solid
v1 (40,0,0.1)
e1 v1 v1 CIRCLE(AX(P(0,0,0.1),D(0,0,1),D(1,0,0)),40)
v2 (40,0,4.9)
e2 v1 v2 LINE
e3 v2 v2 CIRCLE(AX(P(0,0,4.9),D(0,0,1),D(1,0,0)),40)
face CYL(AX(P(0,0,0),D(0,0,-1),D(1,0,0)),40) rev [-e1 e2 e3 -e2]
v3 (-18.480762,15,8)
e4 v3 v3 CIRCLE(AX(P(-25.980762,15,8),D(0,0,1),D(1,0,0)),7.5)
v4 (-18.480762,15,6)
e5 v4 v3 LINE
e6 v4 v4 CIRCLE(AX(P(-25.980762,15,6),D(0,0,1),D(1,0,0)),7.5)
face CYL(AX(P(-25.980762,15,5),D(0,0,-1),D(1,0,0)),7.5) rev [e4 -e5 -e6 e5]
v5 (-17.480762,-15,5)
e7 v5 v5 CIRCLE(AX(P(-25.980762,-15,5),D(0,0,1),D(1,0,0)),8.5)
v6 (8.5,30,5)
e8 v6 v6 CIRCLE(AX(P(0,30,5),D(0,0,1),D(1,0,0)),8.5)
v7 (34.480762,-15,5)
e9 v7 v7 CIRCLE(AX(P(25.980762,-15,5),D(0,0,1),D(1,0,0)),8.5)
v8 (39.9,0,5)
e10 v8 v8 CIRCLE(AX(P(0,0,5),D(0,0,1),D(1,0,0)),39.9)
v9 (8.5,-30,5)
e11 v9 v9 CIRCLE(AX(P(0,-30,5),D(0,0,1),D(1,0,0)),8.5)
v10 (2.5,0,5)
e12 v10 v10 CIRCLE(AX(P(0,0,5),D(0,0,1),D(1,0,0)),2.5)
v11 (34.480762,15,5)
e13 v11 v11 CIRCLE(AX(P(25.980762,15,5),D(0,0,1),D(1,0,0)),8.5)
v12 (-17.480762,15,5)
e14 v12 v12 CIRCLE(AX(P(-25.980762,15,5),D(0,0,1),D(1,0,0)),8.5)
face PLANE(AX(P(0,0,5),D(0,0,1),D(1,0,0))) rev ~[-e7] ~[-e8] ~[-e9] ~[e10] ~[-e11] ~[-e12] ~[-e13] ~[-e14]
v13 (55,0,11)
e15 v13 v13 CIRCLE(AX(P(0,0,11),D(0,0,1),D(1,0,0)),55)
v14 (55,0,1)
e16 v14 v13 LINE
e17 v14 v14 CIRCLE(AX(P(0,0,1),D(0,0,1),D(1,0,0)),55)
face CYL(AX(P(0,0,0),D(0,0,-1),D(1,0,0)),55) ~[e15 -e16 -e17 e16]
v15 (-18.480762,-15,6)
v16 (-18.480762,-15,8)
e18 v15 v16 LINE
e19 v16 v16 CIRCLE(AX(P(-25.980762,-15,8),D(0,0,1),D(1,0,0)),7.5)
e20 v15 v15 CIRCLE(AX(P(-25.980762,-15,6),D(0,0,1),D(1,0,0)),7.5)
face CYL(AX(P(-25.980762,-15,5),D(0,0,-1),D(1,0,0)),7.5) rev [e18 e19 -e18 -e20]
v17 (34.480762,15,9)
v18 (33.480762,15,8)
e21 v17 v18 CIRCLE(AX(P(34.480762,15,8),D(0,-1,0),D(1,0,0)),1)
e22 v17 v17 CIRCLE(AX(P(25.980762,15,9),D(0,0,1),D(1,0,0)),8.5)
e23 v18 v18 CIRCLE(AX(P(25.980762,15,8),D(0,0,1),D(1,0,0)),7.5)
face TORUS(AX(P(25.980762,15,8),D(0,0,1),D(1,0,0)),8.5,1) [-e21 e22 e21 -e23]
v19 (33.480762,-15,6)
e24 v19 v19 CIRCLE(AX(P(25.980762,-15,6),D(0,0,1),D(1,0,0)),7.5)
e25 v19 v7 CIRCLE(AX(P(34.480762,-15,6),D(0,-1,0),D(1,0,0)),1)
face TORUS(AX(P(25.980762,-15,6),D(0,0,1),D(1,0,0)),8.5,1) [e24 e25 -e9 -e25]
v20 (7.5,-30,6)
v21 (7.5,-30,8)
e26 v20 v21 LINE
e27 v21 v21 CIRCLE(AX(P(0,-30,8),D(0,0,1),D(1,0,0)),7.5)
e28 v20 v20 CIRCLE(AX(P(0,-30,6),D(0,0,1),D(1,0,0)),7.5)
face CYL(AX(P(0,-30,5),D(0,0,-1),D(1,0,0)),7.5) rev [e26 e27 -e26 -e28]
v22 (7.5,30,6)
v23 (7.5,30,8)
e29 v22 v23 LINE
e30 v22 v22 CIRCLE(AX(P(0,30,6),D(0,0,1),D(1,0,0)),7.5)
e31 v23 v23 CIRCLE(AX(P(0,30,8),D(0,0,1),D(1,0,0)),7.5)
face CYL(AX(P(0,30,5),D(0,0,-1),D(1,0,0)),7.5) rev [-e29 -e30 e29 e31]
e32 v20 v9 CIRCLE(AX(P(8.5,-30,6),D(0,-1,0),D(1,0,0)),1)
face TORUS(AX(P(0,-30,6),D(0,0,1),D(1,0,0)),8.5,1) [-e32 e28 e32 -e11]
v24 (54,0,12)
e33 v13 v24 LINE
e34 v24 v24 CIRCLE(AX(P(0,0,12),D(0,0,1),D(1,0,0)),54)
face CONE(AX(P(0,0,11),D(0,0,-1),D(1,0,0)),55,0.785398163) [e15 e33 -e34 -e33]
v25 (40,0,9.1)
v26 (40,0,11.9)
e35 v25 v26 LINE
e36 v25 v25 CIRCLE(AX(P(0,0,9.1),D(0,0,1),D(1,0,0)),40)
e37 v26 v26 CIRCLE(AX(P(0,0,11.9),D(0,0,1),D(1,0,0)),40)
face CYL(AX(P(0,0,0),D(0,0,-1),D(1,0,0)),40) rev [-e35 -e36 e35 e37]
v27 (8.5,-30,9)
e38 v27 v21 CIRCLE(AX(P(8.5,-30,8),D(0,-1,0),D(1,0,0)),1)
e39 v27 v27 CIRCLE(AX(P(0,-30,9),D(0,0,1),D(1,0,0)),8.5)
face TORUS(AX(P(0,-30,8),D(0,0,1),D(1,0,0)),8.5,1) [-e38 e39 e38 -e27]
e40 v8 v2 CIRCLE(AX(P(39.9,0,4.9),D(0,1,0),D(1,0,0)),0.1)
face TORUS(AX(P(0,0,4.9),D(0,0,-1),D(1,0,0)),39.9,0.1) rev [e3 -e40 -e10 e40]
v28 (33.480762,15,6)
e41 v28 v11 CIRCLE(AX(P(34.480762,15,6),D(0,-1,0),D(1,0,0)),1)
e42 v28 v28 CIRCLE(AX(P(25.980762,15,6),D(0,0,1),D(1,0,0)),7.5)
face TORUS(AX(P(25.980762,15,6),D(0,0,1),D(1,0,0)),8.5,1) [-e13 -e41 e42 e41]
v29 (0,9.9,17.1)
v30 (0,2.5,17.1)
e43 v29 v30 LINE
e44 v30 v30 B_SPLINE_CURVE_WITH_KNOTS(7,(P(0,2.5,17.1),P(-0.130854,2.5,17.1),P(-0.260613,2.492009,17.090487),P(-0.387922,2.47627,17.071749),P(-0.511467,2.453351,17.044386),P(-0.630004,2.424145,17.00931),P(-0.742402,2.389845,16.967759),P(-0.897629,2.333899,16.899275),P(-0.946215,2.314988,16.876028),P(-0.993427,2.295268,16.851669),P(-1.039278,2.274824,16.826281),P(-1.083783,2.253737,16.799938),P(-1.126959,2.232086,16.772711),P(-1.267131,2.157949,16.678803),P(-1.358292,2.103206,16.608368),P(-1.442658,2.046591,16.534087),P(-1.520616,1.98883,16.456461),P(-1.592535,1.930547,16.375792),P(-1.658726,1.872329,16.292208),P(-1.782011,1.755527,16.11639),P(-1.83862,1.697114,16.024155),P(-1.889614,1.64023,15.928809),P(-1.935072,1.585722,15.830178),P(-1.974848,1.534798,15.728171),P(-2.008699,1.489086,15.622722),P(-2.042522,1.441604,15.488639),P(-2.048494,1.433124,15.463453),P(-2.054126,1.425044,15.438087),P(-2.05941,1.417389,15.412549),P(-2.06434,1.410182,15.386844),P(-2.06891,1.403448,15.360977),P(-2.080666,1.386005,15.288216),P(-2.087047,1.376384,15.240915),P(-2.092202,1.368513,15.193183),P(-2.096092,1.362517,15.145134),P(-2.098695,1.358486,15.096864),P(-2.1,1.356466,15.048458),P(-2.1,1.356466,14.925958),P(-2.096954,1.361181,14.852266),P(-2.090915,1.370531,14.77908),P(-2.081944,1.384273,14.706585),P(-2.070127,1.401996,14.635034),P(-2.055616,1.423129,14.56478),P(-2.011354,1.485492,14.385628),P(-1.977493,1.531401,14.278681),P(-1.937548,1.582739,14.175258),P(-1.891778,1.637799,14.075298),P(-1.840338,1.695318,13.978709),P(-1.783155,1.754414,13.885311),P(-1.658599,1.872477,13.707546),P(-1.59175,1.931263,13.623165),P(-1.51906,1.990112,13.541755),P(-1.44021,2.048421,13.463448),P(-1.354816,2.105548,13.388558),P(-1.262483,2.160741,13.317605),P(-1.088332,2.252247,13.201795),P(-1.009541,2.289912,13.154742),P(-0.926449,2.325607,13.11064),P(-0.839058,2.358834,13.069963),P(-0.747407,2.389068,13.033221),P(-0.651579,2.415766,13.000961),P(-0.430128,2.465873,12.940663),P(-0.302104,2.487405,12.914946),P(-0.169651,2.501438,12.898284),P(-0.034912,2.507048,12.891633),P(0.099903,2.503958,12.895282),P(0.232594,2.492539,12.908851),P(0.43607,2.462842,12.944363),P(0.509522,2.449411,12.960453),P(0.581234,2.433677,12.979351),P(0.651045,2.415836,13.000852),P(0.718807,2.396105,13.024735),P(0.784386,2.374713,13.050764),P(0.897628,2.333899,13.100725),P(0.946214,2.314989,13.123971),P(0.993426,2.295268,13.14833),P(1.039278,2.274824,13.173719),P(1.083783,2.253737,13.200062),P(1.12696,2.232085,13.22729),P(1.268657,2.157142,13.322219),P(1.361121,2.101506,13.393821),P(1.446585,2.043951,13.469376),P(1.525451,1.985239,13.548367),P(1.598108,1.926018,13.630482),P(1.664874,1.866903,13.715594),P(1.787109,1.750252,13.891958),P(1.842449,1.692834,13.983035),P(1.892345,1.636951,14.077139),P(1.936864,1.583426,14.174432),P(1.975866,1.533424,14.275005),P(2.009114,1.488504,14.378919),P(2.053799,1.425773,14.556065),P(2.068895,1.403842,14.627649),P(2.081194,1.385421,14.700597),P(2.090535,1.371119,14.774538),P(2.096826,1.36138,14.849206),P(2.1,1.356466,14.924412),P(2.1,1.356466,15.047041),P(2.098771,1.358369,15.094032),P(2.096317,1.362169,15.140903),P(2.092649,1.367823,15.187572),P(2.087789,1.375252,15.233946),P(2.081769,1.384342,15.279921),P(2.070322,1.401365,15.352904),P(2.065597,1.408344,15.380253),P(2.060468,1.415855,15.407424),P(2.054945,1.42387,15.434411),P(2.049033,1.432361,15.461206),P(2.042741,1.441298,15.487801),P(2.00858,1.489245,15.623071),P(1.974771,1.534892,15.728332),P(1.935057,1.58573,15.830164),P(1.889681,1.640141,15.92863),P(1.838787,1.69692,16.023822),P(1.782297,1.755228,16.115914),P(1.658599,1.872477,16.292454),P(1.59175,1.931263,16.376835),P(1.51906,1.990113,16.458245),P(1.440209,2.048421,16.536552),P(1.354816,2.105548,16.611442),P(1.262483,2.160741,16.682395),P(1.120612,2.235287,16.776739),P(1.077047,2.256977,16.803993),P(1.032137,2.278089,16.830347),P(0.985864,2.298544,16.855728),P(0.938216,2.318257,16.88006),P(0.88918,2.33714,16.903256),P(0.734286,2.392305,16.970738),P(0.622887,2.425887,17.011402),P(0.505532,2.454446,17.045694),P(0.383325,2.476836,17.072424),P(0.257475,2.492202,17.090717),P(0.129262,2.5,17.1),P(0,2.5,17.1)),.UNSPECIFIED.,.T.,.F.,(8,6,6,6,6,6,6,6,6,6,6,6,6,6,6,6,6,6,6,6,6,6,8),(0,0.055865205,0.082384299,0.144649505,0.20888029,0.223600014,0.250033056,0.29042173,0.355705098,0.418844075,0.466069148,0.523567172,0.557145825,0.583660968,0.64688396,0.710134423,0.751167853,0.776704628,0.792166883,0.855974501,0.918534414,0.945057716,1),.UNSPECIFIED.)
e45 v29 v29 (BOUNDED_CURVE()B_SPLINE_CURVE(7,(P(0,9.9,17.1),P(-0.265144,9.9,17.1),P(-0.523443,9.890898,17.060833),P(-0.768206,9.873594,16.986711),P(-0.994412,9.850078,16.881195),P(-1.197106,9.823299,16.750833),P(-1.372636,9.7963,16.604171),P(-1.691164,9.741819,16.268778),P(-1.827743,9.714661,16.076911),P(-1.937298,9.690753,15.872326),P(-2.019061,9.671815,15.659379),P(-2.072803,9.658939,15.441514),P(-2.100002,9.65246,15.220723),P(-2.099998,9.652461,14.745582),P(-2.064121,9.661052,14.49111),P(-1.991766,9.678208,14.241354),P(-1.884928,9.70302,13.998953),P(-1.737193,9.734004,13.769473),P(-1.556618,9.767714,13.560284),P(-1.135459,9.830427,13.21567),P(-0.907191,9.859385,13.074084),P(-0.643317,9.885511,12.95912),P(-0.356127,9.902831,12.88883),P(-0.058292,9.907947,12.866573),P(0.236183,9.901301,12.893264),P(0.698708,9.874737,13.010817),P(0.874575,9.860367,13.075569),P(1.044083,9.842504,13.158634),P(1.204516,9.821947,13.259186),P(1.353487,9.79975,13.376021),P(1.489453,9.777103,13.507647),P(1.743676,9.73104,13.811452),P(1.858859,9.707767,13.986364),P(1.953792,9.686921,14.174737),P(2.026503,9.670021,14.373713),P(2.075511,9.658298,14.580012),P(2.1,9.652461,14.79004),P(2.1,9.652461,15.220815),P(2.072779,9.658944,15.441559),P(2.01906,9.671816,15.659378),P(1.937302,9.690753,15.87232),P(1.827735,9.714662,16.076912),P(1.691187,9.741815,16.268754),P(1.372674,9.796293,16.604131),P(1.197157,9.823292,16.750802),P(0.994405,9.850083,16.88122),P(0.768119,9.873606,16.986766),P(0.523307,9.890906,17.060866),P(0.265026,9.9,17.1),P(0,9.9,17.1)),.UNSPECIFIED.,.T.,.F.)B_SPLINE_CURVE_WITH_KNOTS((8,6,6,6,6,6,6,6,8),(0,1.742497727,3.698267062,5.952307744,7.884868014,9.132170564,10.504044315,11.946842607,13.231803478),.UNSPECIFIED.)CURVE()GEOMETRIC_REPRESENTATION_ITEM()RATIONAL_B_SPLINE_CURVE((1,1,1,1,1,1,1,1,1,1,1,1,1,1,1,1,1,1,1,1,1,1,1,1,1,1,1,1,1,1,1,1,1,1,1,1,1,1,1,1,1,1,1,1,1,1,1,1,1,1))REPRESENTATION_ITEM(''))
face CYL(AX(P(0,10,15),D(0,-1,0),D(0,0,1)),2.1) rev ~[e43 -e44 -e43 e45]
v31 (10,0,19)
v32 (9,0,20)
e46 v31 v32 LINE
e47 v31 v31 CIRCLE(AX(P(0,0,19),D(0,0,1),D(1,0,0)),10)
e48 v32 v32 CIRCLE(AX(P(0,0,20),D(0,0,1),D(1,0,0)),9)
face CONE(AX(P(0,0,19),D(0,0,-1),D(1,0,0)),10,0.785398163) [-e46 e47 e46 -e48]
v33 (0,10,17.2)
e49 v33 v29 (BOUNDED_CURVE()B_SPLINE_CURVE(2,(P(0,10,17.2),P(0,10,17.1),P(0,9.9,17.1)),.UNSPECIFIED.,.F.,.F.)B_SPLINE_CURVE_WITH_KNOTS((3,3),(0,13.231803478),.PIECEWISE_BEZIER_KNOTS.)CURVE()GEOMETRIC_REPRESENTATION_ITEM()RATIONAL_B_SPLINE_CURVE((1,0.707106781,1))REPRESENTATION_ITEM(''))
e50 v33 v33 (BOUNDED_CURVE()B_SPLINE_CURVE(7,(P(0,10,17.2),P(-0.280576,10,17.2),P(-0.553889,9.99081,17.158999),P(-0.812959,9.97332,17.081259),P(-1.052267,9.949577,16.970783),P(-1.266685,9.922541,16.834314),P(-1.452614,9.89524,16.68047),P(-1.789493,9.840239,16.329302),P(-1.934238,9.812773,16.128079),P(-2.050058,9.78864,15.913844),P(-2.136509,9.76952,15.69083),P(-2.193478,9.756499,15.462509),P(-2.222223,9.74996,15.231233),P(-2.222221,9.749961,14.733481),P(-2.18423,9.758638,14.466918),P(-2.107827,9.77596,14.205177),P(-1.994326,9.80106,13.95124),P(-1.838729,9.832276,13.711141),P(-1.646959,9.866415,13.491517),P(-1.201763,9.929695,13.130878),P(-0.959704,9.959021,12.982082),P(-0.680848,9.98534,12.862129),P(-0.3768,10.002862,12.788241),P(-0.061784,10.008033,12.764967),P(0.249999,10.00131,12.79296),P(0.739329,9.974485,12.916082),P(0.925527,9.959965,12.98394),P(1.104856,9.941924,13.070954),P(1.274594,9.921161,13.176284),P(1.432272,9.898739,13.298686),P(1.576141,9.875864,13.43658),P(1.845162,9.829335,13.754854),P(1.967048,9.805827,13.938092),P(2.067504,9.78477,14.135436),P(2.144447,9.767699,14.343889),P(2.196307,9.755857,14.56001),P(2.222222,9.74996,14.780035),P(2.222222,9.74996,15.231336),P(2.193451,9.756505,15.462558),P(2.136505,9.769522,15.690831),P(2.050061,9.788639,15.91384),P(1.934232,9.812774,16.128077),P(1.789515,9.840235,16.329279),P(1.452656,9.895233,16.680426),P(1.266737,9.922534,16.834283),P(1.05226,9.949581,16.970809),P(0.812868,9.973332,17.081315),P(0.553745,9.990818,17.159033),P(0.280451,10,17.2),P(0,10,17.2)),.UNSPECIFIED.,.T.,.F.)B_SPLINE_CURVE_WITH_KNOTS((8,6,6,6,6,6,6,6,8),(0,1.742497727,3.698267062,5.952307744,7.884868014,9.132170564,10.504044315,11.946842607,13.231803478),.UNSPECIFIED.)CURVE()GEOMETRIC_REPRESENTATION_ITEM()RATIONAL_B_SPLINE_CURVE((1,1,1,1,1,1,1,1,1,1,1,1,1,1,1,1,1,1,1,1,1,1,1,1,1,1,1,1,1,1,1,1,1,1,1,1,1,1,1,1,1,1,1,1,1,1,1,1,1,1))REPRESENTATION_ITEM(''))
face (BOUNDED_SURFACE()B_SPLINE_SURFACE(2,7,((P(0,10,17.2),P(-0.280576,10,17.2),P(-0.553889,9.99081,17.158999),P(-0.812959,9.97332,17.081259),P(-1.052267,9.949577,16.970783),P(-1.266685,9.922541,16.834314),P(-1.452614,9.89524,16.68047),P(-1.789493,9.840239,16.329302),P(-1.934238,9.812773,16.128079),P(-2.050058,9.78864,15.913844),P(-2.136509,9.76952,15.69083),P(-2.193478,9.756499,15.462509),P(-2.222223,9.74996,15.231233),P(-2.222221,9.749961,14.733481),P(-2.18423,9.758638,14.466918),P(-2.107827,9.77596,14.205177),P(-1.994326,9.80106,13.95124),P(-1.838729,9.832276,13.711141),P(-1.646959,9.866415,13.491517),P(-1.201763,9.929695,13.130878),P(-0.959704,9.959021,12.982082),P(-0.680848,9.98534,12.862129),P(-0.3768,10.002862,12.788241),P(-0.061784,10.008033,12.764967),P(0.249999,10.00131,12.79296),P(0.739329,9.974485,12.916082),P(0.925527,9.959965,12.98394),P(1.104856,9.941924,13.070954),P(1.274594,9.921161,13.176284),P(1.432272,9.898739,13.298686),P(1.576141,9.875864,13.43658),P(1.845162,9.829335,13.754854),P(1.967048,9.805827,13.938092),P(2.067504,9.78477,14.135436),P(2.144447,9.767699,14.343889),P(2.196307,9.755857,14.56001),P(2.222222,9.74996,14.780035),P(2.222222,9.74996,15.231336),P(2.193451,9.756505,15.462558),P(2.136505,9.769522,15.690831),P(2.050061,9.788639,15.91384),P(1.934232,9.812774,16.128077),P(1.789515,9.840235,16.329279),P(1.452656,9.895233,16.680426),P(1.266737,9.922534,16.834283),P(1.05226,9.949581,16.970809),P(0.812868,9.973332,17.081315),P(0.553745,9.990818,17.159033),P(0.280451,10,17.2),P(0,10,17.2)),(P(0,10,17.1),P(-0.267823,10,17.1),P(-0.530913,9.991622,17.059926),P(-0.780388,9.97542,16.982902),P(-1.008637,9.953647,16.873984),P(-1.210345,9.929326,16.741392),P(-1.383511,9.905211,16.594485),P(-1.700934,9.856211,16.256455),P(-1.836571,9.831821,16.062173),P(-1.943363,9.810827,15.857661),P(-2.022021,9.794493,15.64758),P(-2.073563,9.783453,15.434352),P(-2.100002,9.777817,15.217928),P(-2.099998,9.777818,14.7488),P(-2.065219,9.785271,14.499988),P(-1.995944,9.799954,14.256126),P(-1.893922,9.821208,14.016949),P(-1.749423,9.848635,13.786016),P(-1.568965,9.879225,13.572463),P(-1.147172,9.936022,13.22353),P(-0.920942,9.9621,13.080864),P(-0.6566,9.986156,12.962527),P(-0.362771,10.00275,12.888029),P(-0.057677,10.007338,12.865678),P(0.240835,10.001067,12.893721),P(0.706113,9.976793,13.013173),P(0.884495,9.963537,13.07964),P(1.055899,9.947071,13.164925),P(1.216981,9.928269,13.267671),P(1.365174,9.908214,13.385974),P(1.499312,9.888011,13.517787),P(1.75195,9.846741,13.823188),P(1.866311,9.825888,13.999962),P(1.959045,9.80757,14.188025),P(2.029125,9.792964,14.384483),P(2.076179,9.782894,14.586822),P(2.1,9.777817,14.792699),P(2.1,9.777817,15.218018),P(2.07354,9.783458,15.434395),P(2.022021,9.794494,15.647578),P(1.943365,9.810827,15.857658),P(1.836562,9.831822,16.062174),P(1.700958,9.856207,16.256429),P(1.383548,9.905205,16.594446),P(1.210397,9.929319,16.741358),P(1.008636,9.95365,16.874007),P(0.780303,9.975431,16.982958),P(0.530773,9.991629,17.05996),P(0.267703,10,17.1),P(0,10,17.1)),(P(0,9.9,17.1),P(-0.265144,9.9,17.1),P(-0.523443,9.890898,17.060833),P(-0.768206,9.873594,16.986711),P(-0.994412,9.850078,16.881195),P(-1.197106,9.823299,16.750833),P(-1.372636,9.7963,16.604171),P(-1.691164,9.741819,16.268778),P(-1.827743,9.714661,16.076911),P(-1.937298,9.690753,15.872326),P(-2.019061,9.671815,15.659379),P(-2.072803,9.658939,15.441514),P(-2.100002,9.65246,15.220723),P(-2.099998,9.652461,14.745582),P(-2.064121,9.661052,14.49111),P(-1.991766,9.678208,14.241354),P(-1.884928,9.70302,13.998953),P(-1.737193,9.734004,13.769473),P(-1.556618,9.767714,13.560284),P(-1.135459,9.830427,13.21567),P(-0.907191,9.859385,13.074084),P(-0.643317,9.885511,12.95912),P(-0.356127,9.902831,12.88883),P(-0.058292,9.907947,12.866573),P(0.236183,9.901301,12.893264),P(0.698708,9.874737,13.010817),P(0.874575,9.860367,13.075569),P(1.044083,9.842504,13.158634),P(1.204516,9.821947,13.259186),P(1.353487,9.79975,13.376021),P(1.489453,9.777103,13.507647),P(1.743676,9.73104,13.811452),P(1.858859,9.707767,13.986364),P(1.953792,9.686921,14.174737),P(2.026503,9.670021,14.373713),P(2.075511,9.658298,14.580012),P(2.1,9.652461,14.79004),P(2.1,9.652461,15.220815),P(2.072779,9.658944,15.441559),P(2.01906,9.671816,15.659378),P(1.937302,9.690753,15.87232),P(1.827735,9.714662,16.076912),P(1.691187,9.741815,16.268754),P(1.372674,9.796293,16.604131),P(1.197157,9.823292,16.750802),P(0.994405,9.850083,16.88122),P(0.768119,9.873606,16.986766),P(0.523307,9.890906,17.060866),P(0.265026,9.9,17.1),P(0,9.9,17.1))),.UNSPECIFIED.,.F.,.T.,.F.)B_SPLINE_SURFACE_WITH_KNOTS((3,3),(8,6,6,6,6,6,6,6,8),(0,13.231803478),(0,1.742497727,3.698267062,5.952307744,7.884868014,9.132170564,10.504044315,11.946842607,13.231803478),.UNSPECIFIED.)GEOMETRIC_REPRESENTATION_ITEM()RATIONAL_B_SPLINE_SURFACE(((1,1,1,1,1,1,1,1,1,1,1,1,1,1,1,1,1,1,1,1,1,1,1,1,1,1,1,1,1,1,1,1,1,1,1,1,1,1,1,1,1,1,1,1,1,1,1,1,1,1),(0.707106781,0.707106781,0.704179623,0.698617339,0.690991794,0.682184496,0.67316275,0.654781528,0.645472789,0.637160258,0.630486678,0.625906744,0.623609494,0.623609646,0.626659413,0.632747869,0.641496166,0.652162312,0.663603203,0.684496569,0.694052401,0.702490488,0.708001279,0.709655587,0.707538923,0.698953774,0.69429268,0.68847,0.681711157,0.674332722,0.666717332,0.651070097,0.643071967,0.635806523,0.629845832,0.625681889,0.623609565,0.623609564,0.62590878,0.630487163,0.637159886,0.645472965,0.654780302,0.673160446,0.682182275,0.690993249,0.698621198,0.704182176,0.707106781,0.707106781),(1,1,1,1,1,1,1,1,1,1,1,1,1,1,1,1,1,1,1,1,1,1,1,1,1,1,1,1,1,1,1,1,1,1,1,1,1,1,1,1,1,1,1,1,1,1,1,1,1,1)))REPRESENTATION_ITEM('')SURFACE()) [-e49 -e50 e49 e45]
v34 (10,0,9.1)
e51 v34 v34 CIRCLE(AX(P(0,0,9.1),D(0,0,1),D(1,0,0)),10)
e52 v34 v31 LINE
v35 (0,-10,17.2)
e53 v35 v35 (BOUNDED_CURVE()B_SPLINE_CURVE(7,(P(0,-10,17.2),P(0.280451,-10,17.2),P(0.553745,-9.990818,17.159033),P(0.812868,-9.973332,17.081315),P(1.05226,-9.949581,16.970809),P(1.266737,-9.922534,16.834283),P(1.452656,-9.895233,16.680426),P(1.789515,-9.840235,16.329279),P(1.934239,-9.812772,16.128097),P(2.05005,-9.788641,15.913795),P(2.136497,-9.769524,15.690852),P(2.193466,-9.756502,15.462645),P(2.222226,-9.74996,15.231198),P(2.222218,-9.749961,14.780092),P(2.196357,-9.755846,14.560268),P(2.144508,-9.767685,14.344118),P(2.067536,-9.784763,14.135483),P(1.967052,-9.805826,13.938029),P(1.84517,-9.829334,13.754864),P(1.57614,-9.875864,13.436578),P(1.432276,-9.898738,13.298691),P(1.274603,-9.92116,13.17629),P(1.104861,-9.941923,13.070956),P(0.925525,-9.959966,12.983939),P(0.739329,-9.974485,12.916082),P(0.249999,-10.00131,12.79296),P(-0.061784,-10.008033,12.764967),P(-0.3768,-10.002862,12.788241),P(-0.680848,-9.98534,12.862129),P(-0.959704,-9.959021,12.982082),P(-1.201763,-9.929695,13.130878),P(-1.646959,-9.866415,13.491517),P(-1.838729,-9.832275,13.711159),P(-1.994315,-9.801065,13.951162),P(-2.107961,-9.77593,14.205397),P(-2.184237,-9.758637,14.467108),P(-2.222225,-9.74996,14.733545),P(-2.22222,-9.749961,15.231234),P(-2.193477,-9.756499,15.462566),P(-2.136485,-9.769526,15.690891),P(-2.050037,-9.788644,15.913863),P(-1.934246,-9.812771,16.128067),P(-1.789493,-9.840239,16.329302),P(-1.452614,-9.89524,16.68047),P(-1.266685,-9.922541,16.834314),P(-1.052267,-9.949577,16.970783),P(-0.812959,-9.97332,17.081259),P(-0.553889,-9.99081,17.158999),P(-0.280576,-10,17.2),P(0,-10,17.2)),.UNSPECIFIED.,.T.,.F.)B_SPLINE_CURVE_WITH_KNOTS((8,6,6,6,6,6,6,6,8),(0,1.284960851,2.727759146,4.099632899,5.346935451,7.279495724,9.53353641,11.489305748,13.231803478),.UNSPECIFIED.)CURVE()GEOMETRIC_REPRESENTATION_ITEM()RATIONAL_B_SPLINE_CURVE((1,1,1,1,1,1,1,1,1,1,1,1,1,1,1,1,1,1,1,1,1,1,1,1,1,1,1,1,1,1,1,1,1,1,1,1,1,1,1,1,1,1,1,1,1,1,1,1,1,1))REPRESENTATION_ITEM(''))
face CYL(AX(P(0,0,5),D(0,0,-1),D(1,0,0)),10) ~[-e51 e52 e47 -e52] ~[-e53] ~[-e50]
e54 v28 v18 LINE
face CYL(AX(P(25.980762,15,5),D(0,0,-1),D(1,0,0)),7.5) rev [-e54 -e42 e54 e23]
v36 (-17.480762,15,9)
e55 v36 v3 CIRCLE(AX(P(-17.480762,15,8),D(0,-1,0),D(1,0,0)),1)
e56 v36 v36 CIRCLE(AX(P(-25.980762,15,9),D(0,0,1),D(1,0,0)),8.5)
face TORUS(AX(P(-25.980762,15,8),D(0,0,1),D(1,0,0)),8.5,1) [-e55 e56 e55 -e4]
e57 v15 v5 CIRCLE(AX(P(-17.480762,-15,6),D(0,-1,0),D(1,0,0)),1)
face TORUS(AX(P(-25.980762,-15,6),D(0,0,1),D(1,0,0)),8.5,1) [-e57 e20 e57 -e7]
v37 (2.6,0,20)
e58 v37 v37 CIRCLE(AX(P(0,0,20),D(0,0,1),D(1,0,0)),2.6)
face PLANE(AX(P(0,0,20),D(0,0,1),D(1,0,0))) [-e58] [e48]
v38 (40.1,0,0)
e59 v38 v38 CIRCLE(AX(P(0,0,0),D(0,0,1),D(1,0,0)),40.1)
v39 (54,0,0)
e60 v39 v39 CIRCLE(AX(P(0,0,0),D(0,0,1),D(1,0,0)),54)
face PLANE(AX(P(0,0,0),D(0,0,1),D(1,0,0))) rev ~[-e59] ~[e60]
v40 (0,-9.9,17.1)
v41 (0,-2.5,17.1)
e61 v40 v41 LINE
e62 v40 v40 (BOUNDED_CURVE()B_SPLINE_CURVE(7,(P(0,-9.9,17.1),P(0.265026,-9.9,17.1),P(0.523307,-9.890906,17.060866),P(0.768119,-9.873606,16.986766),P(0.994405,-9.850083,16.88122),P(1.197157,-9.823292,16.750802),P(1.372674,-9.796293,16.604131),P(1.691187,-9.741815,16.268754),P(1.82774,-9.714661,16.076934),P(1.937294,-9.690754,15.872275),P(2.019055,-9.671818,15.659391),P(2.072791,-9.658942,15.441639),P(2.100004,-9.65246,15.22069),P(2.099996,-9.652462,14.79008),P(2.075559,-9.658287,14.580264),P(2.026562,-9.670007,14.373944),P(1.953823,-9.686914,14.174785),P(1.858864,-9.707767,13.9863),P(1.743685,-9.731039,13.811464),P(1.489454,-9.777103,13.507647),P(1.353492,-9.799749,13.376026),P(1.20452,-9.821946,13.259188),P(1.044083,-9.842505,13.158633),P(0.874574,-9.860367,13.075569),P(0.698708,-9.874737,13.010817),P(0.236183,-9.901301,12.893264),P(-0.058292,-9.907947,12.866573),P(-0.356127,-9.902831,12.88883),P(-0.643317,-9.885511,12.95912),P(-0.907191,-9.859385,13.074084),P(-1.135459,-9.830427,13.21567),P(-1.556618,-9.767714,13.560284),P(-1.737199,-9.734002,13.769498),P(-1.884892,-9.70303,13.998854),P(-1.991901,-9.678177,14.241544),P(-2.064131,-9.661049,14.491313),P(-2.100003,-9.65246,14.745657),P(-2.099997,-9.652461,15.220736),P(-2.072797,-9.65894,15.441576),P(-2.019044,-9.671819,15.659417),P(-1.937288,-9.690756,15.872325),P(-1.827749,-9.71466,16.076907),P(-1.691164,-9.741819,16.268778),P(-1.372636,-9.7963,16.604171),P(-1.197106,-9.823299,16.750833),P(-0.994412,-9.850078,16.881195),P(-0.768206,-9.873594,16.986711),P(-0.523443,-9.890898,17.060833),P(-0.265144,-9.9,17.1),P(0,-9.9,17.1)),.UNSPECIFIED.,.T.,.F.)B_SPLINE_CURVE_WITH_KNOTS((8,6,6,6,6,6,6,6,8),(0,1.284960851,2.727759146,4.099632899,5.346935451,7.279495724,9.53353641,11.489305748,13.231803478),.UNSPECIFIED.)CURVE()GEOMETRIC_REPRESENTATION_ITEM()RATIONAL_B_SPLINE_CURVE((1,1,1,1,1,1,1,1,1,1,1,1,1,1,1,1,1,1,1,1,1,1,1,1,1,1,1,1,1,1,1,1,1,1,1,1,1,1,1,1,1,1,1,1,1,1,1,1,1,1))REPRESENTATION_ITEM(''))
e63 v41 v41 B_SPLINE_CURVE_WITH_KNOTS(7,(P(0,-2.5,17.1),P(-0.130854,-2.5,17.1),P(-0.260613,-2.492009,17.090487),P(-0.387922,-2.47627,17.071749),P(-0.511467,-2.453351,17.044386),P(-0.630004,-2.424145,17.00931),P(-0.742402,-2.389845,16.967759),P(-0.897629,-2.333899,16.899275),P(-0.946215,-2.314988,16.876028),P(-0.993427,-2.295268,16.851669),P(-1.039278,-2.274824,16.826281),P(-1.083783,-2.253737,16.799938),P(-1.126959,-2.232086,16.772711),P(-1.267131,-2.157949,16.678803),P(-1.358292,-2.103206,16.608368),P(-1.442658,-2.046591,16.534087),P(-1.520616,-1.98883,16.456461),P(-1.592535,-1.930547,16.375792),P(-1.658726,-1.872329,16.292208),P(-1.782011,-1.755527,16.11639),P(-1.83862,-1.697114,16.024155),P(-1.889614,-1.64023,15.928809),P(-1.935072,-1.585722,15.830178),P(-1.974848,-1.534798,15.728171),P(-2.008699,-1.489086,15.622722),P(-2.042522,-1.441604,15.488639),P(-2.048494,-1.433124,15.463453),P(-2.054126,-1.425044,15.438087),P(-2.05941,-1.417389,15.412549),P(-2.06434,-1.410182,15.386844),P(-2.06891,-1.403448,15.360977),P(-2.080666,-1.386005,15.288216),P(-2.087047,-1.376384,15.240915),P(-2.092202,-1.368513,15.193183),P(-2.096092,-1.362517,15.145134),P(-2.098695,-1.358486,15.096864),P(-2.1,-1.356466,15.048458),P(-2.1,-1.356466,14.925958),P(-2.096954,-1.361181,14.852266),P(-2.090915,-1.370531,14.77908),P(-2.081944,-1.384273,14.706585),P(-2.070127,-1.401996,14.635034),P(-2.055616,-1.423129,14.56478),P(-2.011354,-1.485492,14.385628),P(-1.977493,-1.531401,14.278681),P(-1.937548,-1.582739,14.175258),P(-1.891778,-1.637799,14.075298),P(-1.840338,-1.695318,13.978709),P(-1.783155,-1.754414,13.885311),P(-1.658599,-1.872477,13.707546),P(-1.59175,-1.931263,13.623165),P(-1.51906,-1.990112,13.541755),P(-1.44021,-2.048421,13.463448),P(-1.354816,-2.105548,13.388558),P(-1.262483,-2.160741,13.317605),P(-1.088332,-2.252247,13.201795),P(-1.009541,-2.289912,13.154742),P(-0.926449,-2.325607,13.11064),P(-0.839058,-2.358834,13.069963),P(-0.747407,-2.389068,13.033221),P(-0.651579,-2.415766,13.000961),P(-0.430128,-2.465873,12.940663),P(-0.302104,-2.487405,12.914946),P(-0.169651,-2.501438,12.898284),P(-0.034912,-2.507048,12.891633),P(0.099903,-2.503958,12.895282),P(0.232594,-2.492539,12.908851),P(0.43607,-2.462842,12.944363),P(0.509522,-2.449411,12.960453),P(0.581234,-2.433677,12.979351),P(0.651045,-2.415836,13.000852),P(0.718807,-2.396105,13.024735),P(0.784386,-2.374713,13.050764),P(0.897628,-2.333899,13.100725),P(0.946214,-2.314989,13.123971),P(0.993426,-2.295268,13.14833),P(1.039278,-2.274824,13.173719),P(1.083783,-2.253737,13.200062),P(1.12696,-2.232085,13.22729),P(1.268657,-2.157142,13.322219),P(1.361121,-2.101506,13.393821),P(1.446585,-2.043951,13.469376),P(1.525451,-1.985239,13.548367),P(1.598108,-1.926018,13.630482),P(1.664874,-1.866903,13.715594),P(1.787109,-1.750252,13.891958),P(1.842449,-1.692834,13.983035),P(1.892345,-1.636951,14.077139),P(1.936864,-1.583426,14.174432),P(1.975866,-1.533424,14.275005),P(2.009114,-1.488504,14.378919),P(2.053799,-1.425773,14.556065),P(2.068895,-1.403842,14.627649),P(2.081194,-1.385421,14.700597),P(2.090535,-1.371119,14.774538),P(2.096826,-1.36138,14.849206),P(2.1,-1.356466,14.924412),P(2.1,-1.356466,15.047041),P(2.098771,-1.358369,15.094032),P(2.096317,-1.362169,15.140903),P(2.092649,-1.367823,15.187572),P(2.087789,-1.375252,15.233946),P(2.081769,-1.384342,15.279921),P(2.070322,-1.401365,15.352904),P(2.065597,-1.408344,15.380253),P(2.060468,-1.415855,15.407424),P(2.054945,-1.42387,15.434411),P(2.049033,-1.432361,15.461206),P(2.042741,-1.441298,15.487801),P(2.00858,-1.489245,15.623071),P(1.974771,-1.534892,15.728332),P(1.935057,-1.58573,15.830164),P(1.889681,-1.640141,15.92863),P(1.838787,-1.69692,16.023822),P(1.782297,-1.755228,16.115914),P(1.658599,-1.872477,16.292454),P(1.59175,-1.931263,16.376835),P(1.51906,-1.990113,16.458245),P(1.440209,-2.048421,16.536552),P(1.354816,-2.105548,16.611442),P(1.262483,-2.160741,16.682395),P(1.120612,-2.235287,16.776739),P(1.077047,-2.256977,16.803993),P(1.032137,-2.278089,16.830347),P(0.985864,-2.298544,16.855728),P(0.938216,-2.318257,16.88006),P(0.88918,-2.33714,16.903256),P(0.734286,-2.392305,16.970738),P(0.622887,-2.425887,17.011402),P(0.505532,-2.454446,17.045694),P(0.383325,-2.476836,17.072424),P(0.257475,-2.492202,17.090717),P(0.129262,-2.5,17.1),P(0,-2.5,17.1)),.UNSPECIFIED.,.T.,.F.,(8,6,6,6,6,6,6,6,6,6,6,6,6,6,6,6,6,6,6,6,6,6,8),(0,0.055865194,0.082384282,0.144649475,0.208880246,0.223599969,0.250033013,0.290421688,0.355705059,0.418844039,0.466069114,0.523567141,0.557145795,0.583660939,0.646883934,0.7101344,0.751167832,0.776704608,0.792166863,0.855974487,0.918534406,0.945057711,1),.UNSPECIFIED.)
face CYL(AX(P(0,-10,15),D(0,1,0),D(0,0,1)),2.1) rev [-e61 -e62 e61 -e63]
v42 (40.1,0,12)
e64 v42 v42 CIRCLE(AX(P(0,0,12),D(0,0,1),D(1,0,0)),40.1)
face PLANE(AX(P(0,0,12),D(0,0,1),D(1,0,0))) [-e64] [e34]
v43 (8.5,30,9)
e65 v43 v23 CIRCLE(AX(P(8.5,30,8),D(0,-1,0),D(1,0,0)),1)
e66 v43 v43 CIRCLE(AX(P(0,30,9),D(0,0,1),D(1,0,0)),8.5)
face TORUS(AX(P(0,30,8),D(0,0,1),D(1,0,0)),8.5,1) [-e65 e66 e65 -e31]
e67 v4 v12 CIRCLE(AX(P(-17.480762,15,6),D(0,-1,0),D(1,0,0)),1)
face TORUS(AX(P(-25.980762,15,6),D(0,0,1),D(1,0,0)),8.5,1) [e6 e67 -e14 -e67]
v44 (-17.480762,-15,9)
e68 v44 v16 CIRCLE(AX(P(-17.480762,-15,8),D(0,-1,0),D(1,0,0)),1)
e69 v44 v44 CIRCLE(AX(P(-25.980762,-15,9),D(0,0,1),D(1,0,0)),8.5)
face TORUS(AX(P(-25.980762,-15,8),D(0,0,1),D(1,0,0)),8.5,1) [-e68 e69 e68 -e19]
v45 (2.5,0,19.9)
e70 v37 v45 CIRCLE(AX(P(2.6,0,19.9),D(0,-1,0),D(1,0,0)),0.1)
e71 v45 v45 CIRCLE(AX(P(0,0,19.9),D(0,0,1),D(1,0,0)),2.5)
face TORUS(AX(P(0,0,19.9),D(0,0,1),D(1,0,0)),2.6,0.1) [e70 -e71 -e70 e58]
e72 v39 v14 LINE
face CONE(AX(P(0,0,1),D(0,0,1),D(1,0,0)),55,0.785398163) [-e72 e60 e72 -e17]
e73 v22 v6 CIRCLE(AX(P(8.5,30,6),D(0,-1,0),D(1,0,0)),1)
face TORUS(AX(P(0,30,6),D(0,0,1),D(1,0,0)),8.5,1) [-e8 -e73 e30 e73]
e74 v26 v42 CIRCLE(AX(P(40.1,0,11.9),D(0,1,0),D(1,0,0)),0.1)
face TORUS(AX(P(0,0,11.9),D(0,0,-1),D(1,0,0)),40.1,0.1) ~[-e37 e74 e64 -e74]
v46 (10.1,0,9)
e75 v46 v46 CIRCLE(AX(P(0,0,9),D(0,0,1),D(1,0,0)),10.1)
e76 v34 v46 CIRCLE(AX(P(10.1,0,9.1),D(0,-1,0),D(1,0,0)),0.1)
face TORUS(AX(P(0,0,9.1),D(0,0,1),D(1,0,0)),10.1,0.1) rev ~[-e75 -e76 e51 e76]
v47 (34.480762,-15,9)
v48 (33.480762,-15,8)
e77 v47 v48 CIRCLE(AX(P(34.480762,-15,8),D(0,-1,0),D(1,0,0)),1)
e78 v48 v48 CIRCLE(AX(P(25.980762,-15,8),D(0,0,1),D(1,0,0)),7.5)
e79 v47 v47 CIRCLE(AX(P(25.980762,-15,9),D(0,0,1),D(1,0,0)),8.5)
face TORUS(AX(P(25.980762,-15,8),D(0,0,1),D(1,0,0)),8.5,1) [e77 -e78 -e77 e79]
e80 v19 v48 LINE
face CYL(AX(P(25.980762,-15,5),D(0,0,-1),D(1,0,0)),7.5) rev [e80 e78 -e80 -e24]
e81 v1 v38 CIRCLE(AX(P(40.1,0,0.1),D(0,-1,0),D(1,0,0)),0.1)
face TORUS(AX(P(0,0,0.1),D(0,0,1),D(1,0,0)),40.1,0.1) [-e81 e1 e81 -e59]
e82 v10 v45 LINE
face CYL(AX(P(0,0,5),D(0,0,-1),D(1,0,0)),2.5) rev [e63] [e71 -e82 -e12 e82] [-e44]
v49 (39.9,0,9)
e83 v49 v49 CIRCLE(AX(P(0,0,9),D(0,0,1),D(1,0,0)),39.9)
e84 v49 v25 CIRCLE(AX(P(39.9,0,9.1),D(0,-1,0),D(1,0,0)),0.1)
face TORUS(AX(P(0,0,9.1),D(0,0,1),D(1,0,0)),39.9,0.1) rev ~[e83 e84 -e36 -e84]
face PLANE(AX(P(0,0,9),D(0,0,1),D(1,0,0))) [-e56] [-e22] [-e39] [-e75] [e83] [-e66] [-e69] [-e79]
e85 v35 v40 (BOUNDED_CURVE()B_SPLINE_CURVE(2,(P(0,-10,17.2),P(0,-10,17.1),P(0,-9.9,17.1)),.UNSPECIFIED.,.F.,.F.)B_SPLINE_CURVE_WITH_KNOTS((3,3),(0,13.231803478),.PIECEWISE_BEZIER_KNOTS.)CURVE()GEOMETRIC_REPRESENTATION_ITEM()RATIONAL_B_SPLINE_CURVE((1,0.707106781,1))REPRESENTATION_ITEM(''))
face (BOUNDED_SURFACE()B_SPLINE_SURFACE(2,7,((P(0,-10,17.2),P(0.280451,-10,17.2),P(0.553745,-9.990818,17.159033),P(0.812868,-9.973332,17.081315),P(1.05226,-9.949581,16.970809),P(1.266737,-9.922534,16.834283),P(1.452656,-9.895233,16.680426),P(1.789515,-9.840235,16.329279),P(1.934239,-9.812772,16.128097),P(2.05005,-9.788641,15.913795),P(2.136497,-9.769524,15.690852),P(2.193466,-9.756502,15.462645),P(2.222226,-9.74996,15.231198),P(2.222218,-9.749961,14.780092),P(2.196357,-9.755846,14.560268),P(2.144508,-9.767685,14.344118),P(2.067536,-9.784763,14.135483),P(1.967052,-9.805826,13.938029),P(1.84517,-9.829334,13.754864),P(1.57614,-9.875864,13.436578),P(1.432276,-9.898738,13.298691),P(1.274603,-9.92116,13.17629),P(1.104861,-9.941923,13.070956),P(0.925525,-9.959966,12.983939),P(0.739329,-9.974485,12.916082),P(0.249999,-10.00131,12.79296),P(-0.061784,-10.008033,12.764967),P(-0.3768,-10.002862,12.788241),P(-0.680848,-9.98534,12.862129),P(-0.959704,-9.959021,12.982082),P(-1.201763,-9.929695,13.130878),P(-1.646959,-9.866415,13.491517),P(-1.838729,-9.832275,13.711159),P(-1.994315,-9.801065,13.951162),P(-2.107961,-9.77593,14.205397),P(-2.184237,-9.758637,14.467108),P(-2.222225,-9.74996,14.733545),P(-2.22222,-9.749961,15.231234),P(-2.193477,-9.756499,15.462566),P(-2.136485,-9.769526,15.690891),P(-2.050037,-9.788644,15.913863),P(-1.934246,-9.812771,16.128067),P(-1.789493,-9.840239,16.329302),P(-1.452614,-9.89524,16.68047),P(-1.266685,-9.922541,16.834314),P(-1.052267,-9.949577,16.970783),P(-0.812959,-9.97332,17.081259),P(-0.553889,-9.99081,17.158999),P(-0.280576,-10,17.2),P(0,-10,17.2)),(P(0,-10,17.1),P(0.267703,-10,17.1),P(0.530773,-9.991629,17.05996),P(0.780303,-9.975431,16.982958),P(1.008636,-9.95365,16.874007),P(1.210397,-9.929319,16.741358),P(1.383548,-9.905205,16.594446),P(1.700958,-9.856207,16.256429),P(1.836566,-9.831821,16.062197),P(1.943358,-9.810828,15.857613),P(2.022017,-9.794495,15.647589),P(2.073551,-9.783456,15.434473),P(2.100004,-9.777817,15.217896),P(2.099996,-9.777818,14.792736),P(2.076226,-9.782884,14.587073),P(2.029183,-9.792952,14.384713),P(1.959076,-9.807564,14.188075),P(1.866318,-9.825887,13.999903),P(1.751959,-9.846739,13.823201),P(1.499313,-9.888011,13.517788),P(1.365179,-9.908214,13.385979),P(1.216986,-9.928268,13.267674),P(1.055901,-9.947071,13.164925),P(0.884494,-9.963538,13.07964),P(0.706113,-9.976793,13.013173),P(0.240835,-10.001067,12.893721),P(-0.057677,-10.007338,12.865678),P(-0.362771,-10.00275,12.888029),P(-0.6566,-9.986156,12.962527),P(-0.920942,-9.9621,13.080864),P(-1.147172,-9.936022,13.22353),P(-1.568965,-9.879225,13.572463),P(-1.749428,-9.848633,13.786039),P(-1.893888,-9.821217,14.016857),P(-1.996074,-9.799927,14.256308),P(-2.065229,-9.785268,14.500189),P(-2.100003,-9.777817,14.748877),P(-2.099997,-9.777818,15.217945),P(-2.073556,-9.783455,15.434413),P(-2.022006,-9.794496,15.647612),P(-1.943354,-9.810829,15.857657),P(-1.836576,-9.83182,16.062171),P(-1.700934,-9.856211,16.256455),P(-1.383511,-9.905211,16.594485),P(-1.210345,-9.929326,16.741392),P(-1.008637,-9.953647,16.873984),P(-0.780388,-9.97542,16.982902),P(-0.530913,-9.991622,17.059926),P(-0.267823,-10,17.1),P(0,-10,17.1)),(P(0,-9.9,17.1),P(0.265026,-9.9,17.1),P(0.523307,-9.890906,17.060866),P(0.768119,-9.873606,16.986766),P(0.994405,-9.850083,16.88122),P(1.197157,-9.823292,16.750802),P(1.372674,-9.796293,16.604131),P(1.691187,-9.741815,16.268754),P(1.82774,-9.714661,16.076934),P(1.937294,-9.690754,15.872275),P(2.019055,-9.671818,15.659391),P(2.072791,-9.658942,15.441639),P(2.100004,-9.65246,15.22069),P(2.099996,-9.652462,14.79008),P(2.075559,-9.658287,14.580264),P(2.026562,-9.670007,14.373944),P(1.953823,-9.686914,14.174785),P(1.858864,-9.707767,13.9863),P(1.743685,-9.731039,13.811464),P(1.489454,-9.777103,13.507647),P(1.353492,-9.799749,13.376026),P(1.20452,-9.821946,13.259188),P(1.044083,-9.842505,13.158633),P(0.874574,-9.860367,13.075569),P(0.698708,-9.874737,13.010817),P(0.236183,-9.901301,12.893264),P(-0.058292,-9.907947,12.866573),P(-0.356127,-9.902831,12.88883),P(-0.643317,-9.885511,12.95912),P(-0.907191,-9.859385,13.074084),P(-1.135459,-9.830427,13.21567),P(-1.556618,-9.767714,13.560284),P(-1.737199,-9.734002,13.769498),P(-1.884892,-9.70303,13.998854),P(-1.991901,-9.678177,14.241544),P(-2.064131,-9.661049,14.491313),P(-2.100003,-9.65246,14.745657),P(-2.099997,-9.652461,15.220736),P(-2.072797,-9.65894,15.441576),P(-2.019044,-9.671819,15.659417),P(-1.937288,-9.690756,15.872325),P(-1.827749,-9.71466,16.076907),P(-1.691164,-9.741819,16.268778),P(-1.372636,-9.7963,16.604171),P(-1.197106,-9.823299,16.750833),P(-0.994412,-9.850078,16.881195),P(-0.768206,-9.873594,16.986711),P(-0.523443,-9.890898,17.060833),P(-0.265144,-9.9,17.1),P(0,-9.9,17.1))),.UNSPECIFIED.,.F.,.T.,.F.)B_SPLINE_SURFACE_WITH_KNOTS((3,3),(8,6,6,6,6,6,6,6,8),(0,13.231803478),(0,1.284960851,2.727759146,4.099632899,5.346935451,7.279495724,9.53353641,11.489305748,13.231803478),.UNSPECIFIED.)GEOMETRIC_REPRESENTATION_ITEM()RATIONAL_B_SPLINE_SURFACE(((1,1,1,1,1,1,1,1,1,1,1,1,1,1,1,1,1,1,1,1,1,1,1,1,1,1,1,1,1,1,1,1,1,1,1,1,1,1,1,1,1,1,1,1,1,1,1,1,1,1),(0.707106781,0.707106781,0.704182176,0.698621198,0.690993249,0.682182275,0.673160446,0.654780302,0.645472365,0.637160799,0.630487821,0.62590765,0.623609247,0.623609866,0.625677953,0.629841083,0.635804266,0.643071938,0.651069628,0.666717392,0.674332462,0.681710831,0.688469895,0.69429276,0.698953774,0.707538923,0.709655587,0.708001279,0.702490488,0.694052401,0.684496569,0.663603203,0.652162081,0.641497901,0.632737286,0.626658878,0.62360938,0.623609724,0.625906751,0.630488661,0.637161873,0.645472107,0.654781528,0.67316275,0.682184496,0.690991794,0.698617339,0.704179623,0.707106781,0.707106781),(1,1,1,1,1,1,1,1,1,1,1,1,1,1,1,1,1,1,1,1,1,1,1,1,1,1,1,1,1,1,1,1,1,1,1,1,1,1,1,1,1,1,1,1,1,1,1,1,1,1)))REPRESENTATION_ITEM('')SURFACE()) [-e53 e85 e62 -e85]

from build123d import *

# Parameters (mm, degrees)
SKETCH1_R           = 55
SKETCH1_R_2         = 40
BOSS_EXTRUDE1_DEPTH = 12
BOSS_EXTRUDE2_START = 5
SKETCH1_3_R         = 40
SKETCH1_3_R_2       = 7.5
SKETCH1_3_R_3       = 10
BOSS_EXTRUDE2_DEPTH = 4
BOSS_EXTRUDE3_START = 5
SKETCH1_4_R         = 10
SKETCH1_4_R_2       = 2.5
BOSS_EXTRUDE3_DEPTH = 15
CHAMFER1_SIZE       = 1
FILLET1_R           = 0.1
FILLET2_R           = 1


with BuildPart() as part:
    # Sketch1 → Boss-Extrude1 (new body)
    with BuildSketch(Plane.XY):
        Circle(SKETCH1_R)
        Circle(SKETCH1_R_2, mode=Mode.SUBTRACT)
    extrude(amount=BOSS_EXTRUDE1_DEPTH)

    # Sketch1<3> → Boss-Extrude2 (add)
    with BuildSketch(Plane.XY.offset(BOSS_EXTRUDE2_START)):
        Circle(SKETCH1_3_R)
        with Locations((-25.980762114, 15)):
            Circle(SKETCH1_3_R_2, mode=Mode.SUBTRACT)
        with Locations((-25.980762114, -15)):
            Circle(SKETCH1_3_R_2, mode=Mode.SUBTRACT)
        with Locations((0, -30)):
            Circle(SKETCH1_3_R_2, mode=Mode.SUBTRACT)
        with Locations((25.980762114, -15)):
            Circle(SKETCH1_3_R_2, mode=Mode.SUBTRACT)
        with Locations((25.980762114, 15)):
            Circle(SKETCH1_3_R_2, mode=Mode.SUBTRACT)
        with Locations((0, 30)):
            Circle(SKETCH1_3_R_2, mode=Mode.SUBTRACT)
        Circle(SKETCH1_3_R_3, mode=Mode.SUBTRACT)
    extrude(amount=BOSS_EXTRUDE2_DEPTH)

    # Sketch1<4> → Boss-Extrude3 (add)
    with BuildSketch(Plane.XY.offset(BOSS_EXTRUDE3_START)):
        Circle(SKETCH1_4_R)
        Circle(SKETCH1_4_R_2, mode=Mode.SUBTRACT)
    extrude(amount=BOSS_EXTRUDE3_DEPTH)

    # Sketch3 → M5x0.8 Tapped Hole1 (revolve, cut)
    with BuildSketch(Plane(origin=(0, 0, 15), x_dir=(0, 0, 1), z_dir=(1, 0, 0))):
        Polygon((0, 0), (0, 11.2618073), (2.1, 10), (2.1, 0), align=None)
    m5x0_8_tapped_hole1 = revolve(axis=Axis((0, 6.35, 15), (0, -1, 0)), mode=Mode.SUBTRACT)

    # Mirror2: M5x0.8 Tapped Hole1 across plane
    add(m5x0_8_tapped_hole1.mirror(Plane.ZX), mode=Mode.SUBTRACT)

    # Chamfer1
    chamfer1_edges = [part.edges().sort_by_distance(p)[0] for p in [
        (-55, 0, 12),
        (-10, 0, 20),
        (-55, 0, 0),
    ]]
    chamfer(chamfer1_edges, length=CHAMFER1_SIZE)

    # Fillet1
    fillet1_edges = [part.edges().sort_by_distance(p)[0] for p in [
        (-10, 0, 9),
        (-40, 0, 5),
        (-2.5, 0, 20),
        (-1e-09, -9.999999997, 12.899999986),
        (-40, 0, 0),
        (-1e-09, 9.999999997, 12.899999986),
        (-40, 0, 12),
        (-40, 0, 9),
    ]]
    fillet(fillet1_edges, radius=FILLET1_R)

    # Fillet2
    fillet2_edges = [part.edges().sort_by_distance(p)[0] for p in [
        (-7.5, 30, 9),
        (18.480762114, 15, 9),
        (18.480762114, -15, 9),
        (-7.5, -30, 9),
        (-33.480762114, -15, 9),
        (-33.480762114, 15, 9),
        (-33.480762114, 15, 5),
        (-33.480762114, -15, 5),
        (-7.5, -30, 5),
        (18.480762114, -15, 5),
        (18.480762114, 15, 5),
        (-7.5, 30, 5),
    ]]
    fillet(fillet2_edges, radius=FILLET2_R)


solid = part.part
